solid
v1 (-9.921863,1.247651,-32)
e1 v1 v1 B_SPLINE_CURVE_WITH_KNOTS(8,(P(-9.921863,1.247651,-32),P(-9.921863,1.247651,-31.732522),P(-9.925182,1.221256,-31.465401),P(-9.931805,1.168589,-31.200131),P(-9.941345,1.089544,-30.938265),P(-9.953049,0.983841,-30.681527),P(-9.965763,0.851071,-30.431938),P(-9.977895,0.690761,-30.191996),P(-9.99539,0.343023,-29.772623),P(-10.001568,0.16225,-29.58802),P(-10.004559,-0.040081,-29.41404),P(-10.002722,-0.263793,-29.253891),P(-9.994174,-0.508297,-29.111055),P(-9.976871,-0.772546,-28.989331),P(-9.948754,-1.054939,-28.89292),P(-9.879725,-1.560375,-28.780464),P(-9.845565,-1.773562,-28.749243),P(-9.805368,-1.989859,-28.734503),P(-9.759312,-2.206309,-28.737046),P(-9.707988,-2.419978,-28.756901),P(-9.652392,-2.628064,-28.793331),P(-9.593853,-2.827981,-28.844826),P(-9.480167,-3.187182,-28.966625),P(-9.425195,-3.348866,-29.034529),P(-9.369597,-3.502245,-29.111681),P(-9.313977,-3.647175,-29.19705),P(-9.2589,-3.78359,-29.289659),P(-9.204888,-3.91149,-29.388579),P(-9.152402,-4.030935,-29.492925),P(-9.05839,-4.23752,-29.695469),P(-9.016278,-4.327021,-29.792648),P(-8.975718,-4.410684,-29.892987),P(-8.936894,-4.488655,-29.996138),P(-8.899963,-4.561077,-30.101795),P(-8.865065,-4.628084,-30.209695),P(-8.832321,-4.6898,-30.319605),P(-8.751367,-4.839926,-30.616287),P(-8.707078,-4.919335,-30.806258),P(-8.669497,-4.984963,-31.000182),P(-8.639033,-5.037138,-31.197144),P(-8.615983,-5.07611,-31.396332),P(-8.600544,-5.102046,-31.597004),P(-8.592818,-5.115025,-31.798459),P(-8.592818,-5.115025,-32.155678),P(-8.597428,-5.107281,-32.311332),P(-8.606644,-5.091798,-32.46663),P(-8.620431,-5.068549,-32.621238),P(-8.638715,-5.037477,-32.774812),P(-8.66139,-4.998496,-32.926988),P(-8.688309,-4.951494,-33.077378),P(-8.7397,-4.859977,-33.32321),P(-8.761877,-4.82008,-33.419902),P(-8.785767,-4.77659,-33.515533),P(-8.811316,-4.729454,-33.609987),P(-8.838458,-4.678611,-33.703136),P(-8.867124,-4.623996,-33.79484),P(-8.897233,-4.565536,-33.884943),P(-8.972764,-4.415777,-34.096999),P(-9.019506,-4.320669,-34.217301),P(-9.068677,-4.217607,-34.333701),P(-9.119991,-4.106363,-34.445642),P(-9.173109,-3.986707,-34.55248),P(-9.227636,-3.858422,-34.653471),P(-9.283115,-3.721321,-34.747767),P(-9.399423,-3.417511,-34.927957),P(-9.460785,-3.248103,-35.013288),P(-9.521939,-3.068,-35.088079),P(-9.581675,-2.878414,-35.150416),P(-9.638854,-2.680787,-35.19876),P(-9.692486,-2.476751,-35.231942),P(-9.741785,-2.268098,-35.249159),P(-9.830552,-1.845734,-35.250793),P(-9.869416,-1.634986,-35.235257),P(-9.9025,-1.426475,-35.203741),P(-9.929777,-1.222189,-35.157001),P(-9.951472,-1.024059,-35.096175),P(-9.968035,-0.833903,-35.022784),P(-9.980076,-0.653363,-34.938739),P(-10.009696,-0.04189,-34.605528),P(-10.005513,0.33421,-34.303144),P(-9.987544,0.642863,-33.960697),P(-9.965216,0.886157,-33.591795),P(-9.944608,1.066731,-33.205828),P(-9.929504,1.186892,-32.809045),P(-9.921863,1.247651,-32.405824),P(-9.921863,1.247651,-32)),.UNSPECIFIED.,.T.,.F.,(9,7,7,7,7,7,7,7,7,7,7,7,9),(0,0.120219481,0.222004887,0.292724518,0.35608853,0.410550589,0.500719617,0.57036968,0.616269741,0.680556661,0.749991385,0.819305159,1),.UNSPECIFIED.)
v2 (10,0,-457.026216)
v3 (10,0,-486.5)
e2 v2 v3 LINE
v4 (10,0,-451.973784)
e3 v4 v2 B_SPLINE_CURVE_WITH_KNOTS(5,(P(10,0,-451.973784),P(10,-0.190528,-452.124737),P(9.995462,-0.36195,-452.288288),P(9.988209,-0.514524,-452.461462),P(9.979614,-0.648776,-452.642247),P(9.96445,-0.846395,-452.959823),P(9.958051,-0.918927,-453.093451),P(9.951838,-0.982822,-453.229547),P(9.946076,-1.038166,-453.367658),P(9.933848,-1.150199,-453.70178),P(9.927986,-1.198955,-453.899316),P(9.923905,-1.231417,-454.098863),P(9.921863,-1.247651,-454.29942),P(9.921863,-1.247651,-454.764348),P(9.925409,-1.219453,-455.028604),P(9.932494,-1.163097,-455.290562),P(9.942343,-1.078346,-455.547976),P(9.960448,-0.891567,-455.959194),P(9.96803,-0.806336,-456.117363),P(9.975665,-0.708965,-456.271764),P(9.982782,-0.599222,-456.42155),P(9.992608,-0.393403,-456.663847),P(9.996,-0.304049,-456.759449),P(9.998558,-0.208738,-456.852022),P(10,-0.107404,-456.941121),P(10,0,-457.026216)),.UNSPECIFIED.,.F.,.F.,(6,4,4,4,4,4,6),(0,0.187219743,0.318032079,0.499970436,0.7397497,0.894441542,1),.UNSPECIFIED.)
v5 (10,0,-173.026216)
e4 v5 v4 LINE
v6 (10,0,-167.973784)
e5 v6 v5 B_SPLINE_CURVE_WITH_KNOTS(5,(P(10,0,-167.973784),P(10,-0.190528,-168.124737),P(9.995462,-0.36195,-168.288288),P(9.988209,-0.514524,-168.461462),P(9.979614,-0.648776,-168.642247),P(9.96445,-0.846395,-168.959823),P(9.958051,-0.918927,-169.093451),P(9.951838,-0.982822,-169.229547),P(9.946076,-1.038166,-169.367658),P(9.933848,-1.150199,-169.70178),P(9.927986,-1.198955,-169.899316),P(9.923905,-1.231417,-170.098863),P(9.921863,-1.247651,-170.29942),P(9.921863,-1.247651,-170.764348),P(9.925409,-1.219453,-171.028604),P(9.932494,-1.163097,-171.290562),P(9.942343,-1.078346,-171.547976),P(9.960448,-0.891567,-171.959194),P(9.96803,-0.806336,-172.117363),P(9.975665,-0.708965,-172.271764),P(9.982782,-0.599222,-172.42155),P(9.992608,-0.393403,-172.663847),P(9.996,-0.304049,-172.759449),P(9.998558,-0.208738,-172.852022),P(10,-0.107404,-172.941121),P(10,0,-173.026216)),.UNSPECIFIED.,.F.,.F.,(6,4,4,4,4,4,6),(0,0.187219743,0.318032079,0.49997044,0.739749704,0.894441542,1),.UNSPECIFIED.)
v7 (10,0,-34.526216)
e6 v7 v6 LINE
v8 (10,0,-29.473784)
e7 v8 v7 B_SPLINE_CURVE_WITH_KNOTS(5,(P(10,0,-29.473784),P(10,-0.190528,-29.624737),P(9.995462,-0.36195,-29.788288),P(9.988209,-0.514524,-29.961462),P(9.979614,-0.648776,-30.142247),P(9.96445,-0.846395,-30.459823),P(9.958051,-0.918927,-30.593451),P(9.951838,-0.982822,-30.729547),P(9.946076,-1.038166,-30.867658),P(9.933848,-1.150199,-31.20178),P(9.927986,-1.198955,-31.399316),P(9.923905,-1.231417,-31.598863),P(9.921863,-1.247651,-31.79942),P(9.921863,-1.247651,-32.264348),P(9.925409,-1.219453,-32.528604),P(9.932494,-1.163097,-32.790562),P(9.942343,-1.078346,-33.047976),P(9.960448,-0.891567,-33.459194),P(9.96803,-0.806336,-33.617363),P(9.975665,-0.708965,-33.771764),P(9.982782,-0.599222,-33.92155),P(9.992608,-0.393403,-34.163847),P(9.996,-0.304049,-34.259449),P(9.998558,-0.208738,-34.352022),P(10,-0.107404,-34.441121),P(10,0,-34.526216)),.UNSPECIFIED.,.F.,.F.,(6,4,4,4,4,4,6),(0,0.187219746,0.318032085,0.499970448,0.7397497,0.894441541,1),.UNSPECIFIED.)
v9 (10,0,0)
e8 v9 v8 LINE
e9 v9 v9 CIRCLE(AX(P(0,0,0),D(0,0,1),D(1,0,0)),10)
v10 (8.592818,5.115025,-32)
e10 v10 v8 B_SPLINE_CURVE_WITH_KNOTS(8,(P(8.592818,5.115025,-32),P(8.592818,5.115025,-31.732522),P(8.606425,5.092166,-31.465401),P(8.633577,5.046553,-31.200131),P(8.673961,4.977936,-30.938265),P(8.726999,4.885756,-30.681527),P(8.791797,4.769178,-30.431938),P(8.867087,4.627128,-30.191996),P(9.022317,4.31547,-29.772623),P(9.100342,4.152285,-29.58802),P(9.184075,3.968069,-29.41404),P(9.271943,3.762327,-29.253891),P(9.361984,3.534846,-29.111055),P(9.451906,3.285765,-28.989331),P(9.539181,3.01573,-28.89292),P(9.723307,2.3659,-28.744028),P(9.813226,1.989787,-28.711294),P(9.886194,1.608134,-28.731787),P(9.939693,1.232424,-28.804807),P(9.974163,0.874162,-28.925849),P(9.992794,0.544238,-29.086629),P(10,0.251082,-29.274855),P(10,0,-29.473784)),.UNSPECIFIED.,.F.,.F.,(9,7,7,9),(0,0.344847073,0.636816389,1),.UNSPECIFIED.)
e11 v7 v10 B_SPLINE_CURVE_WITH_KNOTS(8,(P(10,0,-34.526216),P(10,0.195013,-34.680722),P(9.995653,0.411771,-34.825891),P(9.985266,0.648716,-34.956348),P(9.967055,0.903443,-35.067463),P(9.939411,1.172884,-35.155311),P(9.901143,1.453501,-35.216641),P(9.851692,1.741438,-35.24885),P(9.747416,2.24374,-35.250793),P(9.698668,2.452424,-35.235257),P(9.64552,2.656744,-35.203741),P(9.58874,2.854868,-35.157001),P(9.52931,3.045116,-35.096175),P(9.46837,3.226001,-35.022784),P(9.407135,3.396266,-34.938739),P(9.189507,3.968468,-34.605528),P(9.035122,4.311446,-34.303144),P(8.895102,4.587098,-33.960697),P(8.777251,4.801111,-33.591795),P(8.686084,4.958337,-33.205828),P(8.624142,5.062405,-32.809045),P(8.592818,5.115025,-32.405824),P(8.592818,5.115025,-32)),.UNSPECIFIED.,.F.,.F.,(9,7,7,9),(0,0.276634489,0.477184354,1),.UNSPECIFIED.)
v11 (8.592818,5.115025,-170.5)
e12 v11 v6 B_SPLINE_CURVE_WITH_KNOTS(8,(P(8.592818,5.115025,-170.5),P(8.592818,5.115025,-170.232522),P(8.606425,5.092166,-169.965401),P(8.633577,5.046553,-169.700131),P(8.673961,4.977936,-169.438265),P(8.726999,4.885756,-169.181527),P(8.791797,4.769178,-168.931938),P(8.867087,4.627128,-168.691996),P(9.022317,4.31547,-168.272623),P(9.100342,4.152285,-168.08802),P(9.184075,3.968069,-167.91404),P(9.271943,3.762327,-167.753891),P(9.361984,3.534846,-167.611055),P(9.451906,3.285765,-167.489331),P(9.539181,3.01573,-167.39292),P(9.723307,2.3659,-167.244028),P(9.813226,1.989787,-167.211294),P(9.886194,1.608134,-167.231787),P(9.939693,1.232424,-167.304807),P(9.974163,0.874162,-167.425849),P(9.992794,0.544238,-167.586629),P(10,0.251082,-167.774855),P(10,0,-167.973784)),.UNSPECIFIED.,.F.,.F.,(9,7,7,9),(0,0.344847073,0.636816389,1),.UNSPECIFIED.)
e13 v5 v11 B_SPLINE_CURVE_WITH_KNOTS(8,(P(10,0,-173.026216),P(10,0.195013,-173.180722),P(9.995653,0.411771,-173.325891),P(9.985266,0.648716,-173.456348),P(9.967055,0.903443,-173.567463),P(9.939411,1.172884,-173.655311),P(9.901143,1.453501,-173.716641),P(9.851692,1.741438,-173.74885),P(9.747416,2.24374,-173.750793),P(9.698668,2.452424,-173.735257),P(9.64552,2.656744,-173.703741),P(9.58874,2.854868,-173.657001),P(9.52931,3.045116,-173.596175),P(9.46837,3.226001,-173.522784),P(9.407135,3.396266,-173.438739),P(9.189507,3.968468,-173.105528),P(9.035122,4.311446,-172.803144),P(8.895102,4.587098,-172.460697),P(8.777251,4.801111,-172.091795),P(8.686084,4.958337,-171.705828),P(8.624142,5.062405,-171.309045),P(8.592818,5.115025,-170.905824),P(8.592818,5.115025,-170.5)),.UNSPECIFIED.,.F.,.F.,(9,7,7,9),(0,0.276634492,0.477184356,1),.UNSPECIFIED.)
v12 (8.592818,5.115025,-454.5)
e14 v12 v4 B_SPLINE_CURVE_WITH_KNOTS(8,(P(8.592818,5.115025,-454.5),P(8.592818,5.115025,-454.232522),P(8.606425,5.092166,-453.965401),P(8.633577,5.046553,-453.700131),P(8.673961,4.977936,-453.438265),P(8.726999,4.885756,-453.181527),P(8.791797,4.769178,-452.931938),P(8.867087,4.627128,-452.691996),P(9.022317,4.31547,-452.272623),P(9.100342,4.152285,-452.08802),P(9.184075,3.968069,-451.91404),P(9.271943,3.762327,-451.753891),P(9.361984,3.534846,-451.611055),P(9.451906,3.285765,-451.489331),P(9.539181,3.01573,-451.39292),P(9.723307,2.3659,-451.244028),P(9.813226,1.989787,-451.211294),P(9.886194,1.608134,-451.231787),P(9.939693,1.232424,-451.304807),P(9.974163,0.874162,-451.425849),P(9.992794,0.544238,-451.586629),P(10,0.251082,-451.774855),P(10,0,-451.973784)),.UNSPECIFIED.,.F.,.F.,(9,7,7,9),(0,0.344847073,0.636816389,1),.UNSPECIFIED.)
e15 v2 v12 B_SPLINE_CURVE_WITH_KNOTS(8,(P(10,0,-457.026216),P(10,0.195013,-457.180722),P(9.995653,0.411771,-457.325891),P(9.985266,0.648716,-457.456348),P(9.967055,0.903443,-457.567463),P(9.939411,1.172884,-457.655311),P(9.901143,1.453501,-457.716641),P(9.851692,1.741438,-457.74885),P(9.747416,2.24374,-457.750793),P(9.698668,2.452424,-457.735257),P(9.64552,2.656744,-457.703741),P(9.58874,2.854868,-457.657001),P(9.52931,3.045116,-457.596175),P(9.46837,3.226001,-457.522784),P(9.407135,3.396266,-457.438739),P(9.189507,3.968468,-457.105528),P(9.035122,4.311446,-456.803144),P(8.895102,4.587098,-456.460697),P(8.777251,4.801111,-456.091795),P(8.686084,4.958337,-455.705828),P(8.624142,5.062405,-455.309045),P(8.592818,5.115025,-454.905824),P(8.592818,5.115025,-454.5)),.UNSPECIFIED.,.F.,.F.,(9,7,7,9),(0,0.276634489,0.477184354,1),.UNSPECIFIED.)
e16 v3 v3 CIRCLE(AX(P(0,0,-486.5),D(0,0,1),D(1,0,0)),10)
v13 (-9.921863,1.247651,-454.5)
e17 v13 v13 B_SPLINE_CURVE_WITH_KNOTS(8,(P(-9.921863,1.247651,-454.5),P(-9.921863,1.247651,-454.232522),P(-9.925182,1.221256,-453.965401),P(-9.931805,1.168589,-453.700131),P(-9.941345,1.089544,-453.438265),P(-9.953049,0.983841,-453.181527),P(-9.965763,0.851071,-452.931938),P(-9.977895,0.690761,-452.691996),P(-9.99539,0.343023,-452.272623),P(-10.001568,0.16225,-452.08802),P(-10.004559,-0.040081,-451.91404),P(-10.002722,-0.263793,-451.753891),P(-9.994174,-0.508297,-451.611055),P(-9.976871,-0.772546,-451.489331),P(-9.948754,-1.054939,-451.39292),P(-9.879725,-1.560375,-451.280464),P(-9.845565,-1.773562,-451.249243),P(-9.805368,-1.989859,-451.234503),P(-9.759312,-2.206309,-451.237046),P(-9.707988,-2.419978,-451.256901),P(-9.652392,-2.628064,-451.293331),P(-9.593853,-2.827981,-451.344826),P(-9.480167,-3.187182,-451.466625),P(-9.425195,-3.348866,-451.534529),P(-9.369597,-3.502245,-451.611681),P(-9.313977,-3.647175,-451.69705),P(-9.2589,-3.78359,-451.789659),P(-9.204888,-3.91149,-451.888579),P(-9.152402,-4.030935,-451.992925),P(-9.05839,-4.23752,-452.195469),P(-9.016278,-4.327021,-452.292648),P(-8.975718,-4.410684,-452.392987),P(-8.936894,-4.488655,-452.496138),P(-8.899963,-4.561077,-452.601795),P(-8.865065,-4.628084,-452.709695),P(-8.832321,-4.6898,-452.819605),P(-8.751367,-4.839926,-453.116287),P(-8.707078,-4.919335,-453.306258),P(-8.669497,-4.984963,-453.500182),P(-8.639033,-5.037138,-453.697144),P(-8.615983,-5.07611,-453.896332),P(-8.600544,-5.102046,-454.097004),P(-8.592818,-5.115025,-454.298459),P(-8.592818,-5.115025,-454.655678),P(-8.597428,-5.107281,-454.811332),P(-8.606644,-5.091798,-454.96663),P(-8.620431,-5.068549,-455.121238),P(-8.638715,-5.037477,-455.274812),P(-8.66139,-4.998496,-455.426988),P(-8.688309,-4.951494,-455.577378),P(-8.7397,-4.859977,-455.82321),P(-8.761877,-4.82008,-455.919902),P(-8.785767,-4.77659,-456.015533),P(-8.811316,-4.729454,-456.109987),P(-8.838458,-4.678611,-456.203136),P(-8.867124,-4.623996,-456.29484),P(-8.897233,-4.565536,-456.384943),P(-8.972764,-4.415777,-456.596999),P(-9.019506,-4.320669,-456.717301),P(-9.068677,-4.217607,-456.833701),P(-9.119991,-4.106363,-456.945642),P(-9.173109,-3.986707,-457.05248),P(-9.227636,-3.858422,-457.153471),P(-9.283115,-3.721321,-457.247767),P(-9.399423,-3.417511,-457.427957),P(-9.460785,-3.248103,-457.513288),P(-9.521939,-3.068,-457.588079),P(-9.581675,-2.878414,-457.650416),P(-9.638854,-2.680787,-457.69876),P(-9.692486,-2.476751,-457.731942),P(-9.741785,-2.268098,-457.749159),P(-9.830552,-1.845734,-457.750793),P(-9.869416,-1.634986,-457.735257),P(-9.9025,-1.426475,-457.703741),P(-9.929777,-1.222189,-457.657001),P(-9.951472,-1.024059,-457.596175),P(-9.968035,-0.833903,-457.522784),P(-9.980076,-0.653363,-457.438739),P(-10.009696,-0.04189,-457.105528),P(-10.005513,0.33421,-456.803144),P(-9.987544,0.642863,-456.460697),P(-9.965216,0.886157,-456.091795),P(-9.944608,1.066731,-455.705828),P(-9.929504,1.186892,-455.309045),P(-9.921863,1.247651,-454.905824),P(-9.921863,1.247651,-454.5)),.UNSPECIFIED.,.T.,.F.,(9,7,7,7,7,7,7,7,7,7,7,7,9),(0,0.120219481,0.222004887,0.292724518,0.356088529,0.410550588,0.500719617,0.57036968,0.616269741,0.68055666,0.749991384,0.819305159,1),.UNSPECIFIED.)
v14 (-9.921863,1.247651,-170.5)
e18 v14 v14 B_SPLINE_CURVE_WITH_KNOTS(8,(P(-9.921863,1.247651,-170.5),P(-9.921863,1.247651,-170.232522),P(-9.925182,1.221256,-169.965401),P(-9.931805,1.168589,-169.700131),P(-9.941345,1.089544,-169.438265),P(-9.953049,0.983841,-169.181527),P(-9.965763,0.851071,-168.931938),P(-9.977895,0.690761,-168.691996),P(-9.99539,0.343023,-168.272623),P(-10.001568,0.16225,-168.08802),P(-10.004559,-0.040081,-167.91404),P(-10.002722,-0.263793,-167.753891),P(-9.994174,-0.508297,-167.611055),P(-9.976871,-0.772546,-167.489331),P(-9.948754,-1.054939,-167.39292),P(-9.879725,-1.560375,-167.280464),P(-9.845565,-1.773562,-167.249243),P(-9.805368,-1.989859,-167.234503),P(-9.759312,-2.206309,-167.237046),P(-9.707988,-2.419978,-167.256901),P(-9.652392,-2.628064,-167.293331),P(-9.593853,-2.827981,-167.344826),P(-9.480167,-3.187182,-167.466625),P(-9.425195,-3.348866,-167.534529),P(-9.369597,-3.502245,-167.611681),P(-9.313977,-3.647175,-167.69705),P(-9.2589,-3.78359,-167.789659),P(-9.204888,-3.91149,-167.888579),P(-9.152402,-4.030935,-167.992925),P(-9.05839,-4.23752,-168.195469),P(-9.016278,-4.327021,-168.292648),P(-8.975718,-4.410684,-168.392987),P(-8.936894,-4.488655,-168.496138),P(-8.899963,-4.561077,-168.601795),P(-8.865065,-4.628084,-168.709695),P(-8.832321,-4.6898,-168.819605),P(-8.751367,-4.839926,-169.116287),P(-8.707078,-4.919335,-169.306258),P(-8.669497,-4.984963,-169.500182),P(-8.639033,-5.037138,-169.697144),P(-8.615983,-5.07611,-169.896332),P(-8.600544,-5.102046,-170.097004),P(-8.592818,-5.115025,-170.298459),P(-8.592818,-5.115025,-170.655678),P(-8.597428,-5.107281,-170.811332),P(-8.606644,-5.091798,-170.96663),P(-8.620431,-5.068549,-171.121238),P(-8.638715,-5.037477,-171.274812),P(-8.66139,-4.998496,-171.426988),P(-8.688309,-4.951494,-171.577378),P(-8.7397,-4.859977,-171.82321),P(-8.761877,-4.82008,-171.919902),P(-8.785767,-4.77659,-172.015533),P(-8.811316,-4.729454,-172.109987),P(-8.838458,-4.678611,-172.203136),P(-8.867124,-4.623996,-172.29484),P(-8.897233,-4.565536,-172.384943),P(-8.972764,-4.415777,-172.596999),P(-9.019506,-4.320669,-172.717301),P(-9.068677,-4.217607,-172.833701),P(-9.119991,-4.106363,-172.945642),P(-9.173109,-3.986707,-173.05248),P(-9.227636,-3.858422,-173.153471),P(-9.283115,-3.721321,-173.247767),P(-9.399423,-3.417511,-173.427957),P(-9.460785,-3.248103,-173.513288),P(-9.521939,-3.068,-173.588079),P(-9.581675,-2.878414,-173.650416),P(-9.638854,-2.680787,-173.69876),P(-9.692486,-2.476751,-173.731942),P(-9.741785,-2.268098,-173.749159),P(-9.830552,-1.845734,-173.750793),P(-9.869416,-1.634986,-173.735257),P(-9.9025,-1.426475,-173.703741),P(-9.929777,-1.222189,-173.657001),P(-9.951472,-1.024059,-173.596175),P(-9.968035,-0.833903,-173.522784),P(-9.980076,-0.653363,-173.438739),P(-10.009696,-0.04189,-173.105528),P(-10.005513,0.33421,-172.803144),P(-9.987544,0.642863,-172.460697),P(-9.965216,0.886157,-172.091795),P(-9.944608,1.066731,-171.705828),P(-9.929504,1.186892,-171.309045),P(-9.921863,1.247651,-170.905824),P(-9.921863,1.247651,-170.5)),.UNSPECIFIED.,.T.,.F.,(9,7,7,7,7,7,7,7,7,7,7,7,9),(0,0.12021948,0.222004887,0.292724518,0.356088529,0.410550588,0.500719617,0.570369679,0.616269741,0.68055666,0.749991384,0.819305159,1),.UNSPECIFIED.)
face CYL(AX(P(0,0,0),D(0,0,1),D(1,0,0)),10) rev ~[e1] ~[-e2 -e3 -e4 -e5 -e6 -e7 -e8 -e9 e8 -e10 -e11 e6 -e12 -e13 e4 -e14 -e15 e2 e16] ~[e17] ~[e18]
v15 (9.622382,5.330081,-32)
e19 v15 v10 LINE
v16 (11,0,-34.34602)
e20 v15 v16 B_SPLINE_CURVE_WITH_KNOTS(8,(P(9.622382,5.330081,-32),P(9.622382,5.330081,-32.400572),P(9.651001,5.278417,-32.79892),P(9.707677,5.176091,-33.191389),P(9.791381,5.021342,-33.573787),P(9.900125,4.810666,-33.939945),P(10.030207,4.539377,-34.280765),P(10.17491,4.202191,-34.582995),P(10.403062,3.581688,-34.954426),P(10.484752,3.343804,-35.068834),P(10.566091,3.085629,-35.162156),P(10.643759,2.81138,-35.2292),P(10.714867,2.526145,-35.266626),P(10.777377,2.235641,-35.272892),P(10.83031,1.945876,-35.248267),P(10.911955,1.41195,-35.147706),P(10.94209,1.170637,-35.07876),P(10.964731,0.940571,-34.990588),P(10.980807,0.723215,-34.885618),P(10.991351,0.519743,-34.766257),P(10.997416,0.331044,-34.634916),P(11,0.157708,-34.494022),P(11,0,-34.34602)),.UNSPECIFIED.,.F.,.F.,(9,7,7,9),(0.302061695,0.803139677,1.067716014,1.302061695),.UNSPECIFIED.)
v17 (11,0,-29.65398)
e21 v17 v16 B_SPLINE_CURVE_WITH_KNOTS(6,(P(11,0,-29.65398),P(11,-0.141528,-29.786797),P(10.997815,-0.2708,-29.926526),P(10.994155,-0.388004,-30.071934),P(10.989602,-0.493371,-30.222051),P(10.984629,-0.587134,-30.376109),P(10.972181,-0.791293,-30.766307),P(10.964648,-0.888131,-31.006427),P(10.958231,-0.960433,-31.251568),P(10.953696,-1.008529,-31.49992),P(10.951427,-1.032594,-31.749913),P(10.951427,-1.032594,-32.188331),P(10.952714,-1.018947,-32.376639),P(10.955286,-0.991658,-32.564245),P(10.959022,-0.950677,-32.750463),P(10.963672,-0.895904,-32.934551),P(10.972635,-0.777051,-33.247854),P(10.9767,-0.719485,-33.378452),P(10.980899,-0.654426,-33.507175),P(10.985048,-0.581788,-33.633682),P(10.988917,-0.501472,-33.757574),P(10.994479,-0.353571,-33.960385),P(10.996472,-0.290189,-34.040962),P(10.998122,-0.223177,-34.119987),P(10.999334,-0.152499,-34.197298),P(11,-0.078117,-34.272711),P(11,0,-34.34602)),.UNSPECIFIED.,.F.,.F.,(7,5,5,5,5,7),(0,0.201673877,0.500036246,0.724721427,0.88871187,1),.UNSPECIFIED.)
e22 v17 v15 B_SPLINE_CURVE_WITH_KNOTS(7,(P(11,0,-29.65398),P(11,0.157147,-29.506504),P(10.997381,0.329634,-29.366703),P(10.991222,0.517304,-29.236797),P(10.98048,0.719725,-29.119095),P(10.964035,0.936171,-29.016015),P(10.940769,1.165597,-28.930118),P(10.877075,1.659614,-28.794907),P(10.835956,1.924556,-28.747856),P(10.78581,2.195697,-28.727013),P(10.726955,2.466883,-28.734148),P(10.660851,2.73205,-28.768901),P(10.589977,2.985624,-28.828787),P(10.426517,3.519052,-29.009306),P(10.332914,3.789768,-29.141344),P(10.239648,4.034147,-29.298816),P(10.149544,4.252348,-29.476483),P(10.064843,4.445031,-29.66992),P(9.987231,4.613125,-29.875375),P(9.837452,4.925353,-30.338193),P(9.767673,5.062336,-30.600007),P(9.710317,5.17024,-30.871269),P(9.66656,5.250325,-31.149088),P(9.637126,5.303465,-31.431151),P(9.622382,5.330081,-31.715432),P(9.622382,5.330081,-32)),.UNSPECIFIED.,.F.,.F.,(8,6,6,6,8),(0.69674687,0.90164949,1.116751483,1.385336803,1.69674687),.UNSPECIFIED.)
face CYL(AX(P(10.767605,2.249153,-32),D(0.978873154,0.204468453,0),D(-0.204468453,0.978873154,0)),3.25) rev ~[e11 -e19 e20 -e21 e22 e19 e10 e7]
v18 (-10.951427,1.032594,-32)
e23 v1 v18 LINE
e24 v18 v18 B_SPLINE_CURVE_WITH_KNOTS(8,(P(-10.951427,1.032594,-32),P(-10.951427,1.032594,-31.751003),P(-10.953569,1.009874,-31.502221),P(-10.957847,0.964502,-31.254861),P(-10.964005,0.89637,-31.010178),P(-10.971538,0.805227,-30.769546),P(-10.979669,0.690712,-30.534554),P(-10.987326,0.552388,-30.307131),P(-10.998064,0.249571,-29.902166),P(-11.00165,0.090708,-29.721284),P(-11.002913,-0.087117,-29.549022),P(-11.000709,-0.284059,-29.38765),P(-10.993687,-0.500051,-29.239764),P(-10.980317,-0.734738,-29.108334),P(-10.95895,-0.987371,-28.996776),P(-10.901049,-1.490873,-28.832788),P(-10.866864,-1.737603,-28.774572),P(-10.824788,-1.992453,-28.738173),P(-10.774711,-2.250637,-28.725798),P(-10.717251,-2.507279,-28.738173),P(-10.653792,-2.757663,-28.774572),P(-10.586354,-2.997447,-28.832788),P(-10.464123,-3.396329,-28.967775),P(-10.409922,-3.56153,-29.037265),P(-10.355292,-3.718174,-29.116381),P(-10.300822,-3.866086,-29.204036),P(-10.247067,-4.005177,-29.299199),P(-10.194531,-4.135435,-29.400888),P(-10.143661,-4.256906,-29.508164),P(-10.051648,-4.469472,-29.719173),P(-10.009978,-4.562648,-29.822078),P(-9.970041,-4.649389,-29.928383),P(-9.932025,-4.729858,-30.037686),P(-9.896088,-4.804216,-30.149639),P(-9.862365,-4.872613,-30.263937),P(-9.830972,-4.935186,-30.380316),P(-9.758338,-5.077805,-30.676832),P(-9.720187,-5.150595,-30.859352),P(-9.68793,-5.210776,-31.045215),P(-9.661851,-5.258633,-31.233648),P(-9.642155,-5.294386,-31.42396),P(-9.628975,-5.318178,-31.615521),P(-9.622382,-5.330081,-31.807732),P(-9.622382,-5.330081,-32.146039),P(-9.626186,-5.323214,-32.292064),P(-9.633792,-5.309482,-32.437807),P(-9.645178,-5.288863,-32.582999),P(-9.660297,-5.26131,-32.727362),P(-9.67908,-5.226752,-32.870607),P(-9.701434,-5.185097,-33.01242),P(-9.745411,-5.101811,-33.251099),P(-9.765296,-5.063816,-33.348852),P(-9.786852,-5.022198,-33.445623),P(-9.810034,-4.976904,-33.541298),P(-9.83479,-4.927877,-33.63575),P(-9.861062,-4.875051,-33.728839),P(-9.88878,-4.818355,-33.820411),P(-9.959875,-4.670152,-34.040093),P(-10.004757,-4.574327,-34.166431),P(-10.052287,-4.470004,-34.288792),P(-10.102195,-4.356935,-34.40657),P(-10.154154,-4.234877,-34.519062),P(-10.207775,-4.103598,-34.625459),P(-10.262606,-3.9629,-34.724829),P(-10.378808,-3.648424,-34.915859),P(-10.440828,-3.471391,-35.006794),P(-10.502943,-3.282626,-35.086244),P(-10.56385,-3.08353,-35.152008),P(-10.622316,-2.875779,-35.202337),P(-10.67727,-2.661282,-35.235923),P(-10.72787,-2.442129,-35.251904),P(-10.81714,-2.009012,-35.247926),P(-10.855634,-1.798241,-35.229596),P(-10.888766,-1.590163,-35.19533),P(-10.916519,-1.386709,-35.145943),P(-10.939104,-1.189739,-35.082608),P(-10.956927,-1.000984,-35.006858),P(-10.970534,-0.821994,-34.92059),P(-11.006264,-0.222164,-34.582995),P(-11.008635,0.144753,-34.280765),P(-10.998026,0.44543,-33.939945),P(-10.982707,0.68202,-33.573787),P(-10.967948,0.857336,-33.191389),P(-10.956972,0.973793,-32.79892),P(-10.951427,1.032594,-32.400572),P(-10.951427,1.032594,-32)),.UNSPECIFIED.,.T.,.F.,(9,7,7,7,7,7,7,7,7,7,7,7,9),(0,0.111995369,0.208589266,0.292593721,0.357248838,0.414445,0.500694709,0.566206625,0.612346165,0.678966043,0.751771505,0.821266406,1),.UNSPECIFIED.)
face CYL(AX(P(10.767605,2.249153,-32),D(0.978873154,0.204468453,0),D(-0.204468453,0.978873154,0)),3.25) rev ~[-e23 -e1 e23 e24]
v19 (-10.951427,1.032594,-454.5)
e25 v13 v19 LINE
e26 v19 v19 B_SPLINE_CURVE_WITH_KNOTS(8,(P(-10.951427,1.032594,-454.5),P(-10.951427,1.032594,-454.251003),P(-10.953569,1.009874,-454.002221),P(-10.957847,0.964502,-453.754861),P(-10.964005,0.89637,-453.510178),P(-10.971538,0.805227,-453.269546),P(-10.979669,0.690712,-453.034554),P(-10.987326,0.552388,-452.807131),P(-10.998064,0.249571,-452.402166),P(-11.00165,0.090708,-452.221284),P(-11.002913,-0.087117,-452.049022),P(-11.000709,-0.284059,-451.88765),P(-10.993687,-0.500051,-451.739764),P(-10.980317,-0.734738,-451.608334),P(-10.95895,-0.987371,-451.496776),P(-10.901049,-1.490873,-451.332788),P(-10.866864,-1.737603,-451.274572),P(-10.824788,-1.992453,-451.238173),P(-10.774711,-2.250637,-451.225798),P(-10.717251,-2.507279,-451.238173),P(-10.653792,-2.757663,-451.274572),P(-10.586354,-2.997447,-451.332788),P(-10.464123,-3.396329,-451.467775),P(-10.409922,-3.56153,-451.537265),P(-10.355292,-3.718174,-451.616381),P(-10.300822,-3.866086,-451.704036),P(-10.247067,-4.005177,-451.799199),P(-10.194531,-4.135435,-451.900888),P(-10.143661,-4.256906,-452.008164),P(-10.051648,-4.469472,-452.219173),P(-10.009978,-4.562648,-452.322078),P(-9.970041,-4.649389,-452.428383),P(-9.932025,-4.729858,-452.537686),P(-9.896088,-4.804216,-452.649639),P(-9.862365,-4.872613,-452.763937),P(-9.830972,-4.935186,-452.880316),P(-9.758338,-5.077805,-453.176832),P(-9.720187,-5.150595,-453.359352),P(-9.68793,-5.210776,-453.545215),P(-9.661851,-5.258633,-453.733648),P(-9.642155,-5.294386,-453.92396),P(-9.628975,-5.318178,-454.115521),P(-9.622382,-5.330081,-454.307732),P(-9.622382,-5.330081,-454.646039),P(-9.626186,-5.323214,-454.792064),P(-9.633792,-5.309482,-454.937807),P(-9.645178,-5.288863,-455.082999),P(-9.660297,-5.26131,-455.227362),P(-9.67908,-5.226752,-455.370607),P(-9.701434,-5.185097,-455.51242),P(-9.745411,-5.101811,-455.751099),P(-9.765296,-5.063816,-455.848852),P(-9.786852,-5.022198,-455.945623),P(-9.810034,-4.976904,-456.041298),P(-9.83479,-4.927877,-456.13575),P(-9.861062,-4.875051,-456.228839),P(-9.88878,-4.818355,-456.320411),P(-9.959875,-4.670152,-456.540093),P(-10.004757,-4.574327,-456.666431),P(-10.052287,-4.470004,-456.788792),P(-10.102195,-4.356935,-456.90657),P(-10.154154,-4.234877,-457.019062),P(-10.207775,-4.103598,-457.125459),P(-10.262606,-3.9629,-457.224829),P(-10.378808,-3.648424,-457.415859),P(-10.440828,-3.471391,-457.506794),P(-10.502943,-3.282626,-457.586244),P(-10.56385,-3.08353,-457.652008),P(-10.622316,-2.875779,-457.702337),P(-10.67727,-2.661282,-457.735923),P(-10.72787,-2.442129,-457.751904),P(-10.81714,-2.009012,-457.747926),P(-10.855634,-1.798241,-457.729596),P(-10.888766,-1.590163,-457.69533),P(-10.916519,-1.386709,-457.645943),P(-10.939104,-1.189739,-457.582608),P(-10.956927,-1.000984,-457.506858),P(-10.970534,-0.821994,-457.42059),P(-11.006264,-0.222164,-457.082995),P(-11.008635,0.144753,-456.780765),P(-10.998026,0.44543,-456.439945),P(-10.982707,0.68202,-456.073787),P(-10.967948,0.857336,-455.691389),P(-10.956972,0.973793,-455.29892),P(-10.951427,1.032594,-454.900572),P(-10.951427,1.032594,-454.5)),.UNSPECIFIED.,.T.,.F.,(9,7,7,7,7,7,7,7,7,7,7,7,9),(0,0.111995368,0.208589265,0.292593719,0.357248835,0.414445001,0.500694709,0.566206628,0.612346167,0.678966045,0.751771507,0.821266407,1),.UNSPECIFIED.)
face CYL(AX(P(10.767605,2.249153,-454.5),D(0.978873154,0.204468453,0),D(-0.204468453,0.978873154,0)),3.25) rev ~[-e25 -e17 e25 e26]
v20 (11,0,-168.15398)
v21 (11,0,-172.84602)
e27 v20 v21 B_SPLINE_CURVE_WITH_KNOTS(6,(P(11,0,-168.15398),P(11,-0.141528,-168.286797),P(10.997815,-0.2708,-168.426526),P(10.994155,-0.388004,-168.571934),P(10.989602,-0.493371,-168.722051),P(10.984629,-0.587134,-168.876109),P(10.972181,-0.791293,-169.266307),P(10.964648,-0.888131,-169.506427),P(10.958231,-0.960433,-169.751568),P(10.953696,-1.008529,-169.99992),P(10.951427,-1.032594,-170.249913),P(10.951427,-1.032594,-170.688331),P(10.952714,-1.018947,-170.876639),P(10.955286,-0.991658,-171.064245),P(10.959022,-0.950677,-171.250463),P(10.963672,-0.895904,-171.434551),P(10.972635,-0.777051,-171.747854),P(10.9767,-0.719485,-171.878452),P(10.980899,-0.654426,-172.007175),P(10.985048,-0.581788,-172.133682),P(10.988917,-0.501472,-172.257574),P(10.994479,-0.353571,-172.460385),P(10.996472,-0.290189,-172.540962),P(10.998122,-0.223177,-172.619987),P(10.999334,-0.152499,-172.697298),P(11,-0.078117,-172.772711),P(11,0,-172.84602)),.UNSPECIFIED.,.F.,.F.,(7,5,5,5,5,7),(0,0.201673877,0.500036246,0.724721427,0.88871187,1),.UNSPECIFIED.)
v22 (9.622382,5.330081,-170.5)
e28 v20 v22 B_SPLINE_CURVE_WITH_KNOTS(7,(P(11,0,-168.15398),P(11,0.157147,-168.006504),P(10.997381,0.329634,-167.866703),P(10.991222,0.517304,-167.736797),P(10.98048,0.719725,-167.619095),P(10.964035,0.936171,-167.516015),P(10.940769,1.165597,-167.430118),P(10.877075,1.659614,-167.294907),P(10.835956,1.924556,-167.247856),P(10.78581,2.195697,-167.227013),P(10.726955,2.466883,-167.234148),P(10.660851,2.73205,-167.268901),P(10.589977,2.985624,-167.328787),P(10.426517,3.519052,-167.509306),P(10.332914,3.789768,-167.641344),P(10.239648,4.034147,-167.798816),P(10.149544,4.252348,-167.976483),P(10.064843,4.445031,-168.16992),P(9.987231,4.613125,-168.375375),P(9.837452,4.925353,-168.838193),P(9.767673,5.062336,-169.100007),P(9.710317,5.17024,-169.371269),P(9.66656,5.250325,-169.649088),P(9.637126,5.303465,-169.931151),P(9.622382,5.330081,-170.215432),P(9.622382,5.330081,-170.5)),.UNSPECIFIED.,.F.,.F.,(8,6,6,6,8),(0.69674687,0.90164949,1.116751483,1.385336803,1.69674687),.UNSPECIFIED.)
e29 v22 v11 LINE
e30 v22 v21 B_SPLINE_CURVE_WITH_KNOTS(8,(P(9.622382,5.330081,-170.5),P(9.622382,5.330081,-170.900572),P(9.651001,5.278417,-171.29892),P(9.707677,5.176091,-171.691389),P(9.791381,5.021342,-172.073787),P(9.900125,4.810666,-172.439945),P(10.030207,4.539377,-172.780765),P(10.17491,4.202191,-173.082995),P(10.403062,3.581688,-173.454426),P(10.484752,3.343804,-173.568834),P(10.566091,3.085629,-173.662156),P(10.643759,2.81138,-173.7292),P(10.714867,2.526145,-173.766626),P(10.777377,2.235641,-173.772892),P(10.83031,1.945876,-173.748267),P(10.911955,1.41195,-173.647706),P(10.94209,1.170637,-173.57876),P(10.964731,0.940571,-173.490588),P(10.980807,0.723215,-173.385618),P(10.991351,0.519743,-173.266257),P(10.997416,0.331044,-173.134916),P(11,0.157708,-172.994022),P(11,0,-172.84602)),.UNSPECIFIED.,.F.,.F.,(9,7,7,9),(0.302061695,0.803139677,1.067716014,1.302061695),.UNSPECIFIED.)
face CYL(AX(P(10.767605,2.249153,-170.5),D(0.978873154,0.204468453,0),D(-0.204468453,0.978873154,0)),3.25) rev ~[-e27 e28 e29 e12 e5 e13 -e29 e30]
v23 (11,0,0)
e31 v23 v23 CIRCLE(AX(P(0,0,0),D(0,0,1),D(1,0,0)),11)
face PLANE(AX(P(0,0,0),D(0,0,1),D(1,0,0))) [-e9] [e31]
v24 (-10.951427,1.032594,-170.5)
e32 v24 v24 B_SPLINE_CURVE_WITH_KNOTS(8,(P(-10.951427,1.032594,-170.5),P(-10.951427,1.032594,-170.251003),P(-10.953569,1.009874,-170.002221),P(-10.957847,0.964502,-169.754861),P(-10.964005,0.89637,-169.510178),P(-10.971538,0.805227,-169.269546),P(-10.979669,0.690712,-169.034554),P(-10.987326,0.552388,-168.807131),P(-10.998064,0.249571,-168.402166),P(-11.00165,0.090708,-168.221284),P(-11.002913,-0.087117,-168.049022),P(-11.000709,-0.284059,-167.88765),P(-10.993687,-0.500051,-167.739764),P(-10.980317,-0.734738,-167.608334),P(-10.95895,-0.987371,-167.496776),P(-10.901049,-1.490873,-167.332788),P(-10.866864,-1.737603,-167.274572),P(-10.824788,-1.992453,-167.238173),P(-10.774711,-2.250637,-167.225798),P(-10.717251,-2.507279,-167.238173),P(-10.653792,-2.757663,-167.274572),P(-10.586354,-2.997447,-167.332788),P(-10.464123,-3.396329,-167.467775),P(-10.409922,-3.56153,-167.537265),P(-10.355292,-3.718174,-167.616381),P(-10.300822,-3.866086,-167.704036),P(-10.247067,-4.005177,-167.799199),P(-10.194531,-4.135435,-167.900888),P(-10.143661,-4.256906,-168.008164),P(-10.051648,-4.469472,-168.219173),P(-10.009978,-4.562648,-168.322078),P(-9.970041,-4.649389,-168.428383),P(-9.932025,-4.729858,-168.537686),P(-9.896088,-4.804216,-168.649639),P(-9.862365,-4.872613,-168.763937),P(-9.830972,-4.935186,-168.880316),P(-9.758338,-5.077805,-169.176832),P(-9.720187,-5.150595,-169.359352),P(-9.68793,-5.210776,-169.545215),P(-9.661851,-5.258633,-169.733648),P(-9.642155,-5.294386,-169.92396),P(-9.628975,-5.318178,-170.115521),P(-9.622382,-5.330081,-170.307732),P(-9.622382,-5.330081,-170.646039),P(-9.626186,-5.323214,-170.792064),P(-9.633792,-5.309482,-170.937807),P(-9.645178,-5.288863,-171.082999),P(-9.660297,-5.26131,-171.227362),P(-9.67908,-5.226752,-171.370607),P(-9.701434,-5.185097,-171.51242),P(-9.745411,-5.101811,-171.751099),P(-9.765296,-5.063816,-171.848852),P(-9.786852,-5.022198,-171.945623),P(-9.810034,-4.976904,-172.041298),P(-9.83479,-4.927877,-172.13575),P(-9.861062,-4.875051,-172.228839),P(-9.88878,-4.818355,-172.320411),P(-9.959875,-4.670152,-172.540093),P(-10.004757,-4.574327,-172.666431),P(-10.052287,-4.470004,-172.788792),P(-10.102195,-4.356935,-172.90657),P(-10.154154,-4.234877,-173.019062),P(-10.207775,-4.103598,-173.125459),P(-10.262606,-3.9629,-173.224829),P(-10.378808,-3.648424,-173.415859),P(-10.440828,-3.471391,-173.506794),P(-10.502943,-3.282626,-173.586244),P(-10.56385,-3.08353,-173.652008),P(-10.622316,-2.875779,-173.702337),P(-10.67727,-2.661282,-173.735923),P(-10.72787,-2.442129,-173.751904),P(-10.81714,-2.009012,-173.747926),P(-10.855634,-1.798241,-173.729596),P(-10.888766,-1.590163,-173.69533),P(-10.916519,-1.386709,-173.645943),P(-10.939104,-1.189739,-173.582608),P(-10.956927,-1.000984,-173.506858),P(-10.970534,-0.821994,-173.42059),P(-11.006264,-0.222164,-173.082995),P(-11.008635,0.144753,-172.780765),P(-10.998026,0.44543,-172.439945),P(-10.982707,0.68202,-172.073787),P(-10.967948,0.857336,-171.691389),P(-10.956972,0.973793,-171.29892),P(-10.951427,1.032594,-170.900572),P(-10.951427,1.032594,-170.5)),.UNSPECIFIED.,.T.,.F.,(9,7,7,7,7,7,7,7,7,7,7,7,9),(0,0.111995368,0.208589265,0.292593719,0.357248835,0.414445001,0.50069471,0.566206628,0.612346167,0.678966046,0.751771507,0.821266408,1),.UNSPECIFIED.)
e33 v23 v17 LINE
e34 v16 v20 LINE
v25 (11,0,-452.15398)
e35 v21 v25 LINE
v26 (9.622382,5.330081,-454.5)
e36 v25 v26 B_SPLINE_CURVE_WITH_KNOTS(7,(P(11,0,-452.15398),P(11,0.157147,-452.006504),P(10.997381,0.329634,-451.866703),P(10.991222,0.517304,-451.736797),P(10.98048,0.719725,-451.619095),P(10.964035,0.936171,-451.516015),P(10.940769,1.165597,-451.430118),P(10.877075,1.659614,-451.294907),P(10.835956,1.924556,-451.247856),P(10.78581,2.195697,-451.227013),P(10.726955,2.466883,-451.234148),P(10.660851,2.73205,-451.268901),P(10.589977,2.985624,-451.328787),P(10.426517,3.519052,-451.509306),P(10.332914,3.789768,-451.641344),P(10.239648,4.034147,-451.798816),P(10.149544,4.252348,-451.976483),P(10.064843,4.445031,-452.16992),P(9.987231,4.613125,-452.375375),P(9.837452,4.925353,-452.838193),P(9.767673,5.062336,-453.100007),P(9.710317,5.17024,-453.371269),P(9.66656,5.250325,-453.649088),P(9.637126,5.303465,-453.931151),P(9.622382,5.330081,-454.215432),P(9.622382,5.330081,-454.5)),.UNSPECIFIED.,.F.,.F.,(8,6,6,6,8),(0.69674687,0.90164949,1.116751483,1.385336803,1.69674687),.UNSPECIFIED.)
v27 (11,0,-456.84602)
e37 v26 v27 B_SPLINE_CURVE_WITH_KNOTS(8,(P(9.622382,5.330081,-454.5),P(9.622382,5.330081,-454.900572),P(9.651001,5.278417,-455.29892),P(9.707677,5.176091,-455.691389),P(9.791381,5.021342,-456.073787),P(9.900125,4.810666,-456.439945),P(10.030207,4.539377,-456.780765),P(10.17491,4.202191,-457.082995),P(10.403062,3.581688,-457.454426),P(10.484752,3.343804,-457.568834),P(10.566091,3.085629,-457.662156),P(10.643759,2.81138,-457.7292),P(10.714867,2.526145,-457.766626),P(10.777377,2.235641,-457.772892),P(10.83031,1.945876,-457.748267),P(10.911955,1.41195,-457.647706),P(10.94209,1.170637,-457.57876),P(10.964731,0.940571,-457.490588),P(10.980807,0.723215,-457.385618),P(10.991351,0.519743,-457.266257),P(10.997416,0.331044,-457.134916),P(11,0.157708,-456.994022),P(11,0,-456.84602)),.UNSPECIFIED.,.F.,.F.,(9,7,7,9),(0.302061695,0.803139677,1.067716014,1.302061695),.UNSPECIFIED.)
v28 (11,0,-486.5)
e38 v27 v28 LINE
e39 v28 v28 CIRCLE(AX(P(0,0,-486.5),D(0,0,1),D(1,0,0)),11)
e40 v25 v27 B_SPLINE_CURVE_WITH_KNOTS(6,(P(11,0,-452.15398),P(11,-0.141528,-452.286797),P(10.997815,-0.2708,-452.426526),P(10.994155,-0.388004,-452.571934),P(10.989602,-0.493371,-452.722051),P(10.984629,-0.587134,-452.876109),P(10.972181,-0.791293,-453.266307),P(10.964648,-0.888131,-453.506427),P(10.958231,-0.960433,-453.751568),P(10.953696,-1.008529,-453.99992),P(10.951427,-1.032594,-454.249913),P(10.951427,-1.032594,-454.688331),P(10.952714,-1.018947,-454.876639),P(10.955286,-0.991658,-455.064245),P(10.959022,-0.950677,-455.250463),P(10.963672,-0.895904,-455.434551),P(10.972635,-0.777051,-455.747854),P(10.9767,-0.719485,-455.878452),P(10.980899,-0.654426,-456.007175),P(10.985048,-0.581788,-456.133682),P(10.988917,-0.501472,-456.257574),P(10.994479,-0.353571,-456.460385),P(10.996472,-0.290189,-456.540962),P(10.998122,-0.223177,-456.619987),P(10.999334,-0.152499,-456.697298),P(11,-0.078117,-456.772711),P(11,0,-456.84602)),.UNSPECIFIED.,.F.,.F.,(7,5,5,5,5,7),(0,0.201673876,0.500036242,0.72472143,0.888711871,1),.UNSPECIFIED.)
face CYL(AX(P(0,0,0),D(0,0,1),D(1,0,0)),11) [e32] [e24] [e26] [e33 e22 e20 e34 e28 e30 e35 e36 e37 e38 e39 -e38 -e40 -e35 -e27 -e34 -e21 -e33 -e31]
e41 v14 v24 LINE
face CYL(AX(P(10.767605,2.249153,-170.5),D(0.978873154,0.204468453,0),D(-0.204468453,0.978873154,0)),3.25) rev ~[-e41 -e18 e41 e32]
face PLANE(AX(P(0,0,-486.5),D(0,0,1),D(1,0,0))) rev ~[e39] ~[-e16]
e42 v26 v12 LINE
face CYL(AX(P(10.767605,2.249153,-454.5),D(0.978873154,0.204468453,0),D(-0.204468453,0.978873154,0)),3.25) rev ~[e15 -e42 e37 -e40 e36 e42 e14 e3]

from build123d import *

# Parameters (mm, degrees)
SKETCH1_R           = 11
SKETCH1_R_2         = 10
BOSS_EXTRUDE1_DEPTH = 486.5
SKETCH3_R           = 3.25
CUT_EXTRUDE1_DEPTH  = 488.166931009


with BuildPart() as part:
    # Sketch1 → Boss-Extrude1 (new body)
    with BuildSketch(Plane.XY):
        Circle(SKETCH1_R)
        Circle(SKETCH1_R_2, mode=Mode.SUBTRACT)
    extrude(amount=-BOSS_EXTRUDE1_DEPTH)

    # Sketch3 → Cut-Extrude1 (cut, through all)
    with BuildSketch(Plane(origin=(10.767604694, 2.249152987, 0), x_dir=(0, 0, -1), z_dir=(0.978873153981486, 0.20446845334754707, 0))):
        with Locations(Location((32, 0, 0), (0, 0, 90))):
            Circle(SKETCH3_R)
        with Locations(Location((170.5, 0, 0), (0, 0, 90))):
            Circle(SKETCH3_R)
        with Locations(Location((454.5, 0, 0), (0, 0, 90))):
            Circle(SKETCH3_R)
    extrude(amount=-CUT_EXTRUDE1_DEPTH, mode=Mode.SUBTRACT)


solid = part.part
